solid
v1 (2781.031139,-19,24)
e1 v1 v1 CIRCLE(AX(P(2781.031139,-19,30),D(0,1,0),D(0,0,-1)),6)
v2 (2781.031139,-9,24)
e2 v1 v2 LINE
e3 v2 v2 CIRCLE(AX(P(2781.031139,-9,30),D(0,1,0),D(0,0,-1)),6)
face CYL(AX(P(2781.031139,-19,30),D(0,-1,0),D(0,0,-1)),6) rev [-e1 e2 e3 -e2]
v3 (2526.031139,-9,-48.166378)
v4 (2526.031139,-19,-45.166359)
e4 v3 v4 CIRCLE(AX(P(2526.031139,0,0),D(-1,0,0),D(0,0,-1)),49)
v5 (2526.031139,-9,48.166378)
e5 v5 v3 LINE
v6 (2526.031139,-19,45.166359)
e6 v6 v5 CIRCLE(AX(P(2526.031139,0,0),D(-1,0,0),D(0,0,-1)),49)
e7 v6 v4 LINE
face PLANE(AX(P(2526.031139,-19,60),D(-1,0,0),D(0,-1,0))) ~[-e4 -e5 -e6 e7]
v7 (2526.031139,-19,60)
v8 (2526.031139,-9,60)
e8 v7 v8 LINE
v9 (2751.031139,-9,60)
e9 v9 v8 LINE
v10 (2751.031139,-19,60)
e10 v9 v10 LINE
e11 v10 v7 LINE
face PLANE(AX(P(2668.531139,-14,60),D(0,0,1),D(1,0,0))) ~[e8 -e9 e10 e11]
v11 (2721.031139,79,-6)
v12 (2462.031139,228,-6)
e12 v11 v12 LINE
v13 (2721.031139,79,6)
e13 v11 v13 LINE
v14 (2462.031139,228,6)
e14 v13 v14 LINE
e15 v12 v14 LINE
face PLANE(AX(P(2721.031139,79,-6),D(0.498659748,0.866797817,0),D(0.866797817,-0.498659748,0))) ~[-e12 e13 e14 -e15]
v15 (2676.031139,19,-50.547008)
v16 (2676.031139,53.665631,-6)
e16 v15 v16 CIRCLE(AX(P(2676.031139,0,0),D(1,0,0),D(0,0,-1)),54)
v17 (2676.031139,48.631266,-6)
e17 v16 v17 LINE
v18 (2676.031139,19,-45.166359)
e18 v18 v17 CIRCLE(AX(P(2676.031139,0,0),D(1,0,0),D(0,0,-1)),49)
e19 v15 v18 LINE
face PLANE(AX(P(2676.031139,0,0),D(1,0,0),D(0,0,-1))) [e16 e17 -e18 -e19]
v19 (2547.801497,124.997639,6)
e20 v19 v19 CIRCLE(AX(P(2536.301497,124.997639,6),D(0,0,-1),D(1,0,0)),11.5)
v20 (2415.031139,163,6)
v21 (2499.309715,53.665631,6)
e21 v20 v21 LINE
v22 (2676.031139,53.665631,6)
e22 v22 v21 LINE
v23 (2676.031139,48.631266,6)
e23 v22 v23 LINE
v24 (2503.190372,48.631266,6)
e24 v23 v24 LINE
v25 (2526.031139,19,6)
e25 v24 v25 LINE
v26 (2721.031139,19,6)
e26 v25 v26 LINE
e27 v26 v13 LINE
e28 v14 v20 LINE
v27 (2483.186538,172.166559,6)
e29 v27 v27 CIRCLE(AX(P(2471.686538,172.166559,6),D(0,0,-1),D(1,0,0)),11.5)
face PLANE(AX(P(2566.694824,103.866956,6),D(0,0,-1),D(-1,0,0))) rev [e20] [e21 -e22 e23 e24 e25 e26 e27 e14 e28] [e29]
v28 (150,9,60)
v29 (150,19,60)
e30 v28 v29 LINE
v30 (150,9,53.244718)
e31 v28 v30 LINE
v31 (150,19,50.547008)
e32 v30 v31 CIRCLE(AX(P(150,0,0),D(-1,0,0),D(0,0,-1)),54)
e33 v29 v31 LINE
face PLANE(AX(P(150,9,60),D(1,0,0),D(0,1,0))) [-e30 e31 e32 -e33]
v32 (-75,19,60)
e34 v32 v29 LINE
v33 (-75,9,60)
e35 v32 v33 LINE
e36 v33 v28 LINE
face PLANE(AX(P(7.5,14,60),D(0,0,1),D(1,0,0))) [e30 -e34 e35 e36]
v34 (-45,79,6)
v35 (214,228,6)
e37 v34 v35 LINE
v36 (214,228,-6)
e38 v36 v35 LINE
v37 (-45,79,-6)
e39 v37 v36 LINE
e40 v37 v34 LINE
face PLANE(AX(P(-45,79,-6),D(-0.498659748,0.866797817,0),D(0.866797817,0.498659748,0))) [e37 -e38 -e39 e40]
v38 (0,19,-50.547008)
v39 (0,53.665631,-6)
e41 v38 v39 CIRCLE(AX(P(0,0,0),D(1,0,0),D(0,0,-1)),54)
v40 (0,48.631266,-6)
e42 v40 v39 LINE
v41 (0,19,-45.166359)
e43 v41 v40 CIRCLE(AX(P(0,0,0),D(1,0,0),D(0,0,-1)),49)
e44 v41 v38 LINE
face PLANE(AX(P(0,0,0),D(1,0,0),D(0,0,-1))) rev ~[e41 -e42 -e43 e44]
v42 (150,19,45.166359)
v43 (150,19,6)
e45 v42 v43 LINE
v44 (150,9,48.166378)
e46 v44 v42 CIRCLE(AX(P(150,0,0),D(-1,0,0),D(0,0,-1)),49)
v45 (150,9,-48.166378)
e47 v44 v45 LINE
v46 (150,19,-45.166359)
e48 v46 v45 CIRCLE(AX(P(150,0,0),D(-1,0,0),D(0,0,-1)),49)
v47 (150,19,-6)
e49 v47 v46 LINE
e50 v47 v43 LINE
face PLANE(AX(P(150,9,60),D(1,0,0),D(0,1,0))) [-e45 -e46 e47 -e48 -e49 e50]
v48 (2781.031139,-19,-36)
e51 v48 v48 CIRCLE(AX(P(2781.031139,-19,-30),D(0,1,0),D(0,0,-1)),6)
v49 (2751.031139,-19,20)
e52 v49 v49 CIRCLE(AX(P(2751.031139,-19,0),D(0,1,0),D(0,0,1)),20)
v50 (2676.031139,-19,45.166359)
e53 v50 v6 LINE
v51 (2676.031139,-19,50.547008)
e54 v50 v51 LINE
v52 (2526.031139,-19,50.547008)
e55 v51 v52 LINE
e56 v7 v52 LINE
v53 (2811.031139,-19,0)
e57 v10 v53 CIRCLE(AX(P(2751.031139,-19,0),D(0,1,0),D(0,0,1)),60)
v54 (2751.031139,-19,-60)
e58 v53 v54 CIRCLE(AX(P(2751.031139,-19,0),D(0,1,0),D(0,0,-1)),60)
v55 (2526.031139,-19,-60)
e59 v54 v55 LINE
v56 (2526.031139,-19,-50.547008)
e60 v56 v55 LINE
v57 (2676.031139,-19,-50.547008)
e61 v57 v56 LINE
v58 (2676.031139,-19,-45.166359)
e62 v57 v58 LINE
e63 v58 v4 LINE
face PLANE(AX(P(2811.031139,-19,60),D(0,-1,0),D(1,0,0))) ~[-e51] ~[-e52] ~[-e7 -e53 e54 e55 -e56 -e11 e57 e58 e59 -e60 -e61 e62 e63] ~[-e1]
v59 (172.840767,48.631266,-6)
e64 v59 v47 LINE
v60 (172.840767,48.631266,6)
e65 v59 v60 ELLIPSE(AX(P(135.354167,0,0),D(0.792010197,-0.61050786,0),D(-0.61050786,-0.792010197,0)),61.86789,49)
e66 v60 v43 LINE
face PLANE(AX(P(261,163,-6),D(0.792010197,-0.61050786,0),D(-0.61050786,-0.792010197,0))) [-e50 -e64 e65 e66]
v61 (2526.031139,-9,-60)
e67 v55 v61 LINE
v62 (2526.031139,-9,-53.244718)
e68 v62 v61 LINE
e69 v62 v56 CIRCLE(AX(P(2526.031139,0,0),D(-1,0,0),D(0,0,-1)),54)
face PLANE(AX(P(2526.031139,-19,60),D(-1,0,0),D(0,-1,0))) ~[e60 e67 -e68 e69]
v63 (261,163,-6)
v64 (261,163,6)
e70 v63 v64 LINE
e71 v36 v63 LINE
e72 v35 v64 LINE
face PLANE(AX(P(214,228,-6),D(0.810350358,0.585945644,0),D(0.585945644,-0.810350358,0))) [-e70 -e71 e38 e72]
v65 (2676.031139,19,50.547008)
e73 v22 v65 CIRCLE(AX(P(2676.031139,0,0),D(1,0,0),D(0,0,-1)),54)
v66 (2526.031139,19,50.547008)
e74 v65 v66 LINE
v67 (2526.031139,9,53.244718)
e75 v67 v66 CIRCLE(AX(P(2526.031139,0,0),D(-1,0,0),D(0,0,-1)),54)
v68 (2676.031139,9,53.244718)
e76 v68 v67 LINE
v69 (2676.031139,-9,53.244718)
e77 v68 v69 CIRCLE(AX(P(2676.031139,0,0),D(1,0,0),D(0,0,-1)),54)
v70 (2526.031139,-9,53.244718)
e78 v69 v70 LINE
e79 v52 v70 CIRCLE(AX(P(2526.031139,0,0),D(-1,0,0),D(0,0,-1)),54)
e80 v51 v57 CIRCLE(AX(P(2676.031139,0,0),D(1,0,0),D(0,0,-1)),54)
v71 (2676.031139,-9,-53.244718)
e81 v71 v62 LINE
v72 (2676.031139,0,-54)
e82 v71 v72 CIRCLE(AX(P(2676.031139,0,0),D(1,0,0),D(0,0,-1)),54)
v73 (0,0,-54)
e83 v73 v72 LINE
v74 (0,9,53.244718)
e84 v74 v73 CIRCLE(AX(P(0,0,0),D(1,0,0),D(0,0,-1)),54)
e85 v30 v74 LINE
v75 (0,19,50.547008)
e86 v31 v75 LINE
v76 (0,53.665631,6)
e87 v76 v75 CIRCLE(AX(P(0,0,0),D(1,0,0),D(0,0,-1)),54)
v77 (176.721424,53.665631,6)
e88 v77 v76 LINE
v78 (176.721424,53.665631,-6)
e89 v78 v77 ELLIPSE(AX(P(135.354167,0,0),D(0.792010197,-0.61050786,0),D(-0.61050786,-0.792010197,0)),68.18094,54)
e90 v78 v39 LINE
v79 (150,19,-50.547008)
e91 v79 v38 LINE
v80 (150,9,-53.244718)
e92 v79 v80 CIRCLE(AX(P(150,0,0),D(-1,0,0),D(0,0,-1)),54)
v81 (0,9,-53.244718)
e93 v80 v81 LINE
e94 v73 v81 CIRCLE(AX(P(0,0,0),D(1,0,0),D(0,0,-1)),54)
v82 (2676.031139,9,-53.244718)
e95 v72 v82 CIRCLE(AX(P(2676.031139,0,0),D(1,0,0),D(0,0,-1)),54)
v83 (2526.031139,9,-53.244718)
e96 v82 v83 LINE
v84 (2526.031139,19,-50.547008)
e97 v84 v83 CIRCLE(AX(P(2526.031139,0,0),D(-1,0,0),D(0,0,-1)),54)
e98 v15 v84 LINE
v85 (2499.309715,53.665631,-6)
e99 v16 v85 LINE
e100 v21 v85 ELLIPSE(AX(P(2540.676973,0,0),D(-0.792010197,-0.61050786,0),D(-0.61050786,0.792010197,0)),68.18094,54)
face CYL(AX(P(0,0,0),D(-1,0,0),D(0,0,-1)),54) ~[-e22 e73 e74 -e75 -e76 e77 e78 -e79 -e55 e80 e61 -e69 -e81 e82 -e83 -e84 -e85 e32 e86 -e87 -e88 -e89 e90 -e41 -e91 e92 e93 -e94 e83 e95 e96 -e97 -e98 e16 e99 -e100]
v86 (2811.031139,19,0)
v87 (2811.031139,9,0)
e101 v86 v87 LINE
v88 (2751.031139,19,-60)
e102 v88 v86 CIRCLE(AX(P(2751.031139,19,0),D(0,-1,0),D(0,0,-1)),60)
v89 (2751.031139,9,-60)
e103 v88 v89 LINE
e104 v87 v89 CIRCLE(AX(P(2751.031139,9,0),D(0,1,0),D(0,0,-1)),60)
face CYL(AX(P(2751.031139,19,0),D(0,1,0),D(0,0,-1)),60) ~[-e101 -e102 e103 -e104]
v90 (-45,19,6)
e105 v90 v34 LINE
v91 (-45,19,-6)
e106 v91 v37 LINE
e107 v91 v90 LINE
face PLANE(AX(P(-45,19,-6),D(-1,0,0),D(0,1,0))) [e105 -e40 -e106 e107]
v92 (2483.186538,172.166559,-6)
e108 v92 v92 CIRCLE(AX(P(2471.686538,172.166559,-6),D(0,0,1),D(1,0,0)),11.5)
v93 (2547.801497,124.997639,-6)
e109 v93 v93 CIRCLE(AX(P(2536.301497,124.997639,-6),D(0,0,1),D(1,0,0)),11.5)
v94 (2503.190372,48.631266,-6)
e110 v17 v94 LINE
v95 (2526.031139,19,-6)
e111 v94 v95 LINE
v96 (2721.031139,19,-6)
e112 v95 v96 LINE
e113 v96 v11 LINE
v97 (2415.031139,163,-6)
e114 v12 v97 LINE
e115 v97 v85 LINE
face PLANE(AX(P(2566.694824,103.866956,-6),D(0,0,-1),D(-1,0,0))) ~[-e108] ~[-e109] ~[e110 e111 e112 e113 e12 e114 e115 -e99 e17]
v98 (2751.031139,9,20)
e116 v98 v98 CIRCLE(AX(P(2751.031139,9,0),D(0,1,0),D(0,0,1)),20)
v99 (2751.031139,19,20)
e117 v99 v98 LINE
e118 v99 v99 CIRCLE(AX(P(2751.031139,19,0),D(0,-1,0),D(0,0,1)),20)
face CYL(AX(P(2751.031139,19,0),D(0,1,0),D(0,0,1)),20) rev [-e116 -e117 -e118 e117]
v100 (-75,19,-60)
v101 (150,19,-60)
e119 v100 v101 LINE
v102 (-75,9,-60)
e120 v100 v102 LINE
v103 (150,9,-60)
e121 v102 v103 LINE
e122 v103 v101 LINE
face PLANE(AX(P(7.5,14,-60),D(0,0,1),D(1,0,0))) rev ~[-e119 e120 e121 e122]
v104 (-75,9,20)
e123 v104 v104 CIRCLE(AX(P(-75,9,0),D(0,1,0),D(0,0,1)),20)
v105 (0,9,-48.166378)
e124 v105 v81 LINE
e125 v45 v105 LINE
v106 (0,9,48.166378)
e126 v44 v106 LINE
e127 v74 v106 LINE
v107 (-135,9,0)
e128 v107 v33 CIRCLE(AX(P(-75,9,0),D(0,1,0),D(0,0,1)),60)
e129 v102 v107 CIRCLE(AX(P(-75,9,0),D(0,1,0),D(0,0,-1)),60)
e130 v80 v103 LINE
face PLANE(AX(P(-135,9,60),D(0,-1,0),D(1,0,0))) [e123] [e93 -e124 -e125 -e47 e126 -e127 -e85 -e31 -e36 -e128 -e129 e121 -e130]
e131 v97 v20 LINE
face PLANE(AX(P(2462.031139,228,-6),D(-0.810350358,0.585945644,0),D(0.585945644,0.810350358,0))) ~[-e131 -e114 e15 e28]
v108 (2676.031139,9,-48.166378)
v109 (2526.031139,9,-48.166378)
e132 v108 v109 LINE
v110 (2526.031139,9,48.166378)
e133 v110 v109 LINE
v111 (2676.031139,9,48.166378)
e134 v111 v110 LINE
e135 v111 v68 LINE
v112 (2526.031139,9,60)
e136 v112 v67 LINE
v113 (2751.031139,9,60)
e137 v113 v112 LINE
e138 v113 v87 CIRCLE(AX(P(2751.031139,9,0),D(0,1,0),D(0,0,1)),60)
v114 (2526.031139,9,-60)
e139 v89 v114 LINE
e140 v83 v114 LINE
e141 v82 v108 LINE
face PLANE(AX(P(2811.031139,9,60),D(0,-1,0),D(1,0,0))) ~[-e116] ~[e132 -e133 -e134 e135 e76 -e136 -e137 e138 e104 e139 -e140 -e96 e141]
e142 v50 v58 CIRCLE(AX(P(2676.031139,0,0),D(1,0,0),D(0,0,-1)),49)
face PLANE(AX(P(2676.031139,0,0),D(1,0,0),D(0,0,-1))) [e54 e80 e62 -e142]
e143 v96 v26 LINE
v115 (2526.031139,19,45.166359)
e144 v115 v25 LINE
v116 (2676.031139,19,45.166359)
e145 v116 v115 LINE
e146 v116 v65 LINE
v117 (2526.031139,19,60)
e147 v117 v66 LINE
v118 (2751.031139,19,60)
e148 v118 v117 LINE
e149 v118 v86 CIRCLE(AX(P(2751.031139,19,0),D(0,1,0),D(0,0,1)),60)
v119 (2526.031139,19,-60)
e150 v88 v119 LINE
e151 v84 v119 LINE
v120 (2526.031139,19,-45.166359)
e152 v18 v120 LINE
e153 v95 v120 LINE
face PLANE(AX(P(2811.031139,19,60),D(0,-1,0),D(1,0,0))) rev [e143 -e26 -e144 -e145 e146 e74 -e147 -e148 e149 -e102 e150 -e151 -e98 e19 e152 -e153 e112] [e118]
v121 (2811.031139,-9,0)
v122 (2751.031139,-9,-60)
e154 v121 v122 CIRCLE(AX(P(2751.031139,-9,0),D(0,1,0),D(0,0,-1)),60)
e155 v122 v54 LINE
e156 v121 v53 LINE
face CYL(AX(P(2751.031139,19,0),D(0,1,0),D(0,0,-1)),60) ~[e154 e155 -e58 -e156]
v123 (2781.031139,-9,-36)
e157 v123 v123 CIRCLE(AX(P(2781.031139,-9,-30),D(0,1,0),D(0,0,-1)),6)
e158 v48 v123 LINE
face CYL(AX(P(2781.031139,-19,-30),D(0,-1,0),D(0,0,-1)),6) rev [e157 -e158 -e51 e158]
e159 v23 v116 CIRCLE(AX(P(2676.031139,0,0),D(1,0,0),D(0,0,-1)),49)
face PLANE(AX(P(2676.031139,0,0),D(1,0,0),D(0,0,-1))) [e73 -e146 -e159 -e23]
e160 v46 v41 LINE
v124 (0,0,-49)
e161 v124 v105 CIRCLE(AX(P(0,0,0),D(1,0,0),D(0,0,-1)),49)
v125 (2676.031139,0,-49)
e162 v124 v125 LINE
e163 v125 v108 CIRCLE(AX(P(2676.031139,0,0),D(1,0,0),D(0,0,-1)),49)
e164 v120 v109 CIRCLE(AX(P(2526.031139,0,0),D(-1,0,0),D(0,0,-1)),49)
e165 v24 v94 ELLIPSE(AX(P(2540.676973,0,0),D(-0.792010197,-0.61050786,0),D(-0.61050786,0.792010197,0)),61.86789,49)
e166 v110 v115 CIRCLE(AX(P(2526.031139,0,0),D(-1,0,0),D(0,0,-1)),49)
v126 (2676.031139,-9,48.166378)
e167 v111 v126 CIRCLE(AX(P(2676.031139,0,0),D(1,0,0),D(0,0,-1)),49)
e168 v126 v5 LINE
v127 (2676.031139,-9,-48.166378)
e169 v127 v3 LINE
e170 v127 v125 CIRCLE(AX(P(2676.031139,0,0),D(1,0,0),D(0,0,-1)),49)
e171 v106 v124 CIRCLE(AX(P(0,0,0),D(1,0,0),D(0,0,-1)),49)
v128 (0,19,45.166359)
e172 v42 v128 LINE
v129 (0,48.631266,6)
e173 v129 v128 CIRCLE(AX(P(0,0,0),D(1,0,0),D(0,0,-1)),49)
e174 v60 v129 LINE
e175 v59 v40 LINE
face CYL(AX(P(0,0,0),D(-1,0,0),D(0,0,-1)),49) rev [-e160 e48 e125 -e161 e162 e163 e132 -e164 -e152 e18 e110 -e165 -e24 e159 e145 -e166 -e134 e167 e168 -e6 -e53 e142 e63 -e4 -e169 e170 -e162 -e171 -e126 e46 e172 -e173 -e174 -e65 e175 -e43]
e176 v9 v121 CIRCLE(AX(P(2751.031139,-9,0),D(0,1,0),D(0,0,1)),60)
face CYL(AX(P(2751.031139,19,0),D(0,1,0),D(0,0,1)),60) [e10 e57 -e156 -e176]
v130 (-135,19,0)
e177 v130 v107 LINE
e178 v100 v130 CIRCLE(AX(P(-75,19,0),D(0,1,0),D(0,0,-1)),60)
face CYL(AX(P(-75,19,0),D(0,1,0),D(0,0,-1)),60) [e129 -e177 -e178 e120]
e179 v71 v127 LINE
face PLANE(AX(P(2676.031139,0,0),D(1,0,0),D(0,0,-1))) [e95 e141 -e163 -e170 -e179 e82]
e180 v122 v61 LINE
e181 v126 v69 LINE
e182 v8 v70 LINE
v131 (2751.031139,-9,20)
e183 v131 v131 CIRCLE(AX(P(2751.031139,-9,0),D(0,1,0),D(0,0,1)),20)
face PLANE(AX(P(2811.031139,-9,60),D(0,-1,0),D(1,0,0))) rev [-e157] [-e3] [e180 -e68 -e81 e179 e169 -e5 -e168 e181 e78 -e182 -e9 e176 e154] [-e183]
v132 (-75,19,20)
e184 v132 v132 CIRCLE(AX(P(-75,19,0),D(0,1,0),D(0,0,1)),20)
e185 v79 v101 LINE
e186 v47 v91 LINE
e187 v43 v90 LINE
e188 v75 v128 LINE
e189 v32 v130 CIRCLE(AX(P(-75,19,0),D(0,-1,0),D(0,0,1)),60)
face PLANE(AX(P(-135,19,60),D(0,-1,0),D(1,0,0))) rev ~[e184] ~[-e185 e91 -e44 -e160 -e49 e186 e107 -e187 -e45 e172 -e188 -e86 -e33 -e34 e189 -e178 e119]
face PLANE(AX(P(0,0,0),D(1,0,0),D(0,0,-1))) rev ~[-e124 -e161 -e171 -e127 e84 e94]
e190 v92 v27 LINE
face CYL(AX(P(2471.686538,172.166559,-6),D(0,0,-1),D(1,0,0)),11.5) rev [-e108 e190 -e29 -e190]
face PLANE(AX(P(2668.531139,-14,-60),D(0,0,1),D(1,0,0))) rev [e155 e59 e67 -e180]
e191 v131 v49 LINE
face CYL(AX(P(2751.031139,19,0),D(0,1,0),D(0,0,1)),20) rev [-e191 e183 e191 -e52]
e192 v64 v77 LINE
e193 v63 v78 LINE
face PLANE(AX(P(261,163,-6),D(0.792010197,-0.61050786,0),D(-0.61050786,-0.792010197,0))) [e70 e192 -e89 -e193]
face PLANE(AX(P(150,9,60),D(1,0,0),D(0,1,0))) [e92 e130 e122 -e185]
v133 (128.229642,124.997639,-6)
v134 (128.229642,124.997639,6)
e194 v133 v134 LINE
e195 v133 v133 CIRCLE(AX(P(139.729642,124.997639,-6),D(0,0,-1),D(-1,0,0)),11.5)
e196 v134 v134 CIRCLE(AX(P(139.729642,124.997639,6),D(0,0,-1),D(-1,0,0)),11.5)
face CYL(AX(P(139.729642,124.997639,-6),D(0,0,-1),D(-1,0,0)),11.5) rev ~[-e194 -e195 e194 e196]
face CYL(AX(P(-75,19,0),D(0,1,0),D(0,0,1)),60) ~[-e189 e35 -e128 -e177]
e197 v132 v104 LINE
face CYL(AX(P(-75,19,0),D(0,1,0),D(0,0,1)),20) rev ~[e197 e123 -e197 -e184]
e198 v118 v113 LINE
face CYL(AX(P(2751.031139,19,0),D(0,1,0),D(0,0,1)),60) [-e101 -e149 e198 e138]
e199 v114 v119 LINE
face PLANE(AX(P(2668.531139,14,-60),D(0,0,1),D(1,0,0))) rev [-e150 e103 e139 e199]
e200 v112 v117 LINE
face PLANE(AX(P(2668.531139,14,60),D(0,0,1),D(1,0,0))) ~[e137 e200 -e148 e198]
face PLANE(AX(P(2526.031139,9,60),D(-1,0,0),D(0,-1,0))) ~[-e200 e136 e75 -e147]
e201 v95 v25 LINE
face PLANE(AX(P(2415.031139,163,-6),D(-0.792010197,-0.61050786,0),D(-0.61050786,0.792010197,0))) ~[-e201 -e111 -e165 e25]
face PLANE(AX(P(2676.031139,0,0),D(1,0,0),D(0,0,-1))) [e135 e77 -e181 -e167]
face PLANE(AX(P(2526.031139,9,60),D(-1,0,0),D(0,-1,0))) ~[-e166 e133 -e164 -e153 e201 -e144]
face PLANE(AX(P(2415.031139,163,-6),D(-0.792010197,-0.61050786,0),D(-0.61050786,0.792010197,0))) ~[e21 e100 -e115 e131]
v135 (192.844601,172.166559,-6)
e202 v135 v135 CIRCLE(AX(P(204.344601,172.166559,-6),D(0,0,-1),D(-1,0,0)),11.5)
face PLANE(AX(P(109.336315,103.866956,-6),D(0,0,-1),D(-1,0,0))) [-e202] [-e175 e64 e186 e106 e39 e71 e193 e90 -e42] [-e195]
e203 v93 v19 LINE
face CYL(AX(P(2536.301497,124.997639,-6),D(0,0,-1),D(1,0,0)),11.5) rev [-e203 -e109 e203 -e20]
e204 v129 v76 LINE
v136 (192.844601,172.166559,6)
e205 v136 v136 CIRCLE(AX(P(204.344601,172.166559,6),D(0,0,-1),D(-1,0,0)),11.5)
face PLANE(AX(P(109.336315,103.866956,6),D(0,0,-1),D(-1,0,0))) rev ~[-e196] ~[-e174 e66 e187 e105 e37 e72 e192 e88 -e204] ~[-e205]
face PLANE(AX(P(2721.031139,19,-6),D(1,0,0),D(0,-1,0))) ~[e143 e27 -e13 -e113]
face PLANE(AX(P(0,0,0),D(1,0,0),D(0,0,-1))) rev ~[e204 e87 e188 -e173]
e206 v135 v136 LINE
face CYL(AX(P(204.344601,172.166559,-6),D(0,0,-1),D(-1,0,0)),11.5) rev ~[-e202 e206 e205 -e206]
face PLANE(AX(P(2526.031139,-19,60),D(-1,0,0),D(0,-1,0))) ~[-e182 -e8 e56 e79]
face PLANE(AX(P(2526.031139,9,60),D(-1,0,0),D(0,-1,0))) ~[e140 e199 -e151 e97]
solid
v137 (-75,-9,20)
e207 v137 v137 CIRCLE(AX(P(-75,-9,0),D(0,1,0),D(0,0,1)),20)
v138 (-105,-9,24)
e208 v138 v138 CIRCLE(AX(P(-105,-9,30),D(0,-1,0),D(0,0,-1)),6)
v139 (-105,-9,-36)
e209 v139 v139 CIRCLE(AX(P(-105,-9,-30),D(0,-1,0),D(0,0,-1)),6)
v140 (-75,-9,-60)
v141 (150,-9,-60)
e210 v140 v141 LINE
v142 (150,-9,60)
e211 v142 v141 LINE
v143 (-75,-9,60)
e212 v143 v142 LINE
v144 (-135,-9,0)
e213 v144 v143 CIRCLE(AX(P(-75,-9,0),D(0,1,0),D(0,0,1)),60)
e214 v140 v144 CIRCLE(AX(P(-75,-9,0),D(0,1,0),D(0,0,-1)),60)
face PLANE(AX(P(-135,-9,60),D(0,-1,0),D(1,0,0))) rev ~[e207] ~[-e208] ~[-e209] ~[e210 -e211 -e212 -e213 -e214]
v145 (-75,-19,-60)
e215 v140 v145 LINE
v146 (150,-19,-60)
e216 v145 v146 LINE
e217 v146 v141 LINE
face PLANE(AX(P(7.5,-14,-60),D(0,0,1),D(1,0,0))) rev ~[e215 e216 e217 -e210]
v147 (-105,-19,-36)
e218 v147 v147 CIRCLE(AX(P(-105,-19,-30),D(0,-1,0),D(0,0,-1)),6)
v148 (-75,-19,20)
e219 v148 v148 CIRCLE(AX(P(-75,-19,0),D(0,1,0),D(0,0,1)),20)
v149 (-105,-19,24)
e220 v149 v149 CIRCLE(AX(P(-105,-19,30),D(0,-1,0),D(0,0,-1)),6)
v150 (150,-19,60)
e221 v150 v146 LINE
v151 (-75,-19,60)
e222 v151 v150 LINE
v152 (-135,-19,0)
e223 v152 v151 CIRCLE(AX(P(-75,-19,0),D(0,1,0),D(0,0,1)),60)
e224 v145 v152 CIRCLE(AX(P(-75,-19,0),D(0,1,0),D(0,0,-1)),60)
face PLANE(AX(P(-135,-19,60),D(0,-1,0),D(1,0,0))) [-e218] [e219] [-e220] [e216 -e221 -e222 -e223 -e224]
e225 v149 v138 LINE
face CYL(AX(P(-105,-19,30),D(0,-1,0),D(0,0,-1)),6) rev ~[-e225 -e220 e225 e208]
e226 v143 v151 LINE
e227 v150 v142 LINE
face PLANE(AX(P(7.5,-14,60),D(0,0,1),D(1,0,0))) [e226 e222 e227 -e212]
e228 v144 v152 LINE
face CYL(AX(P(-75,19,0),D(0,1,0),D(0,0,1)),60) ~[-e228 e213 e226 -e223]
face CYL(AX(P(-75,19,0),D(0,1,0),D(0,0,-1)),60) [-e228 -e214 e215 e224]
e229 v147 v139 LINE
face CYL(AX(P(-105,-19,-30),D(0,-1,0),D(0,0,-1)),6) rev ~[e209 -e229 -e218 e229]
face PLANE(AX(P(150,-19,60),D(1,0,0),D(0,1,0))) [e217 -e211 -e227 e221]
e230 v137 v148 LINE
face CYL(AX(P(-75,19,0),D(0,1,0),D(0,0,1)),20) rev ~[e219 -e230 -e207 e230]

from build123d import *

# Parameters (mm, degrees)
SKETCH_1_R          = 54
SKETCH_1_R_2        = 49
EXTRUDE_1_DEPTH     = 2676.031139248
SKETCH_2_W          = 285
SKETCH_2_H          = 10
EXTRUDE_2_DEPTH     = 120
EXTRUDE_2_2_DEPTH   = 120
CUT_EXTRUDE_1_DEPTH = 2678.698948393
CUT_EXTRUDE_2_DEPTH = 2678.698948393
SKETCH_5_R          = 20
CUT_EXTRUDE_3_DEPTH = 2678.698948393
SKETCH_8_R          = 6
CUT_EXTRUDE_4_DEPTH = 10
EXTRUDE_4_DEPTH     = 12
SKETCH_12_R         = 11.5
CUT_EXTRUDE_5_DEPTH = 2687.537298871


with BuildPart() as part:
    # 草图1 → 凸台-拉伸1 (new body)
    with BuildSketch(Plane(origin=(0, 0, 0), x_dir=(0, 0, -1), z_dir=(1, 0, 0))):
        Circle(SKETCH_1_R)
        Circle(SKETCH_1_R_2, mode=Mode.SUBTRACT)
    extrude(amount=EXTRUDE_1_DEPTH)



with BuildPart() as body_2:
    # 草图2 → 凸台-拉伸2 (new body)
    with BuildSketch(Plane.XY.offset(60)):
        with Locations((7.5, 14)):
            Rectangle(SKETCH_2_W, SKETCH_2_H)
    extrude_2 = extrude(amount=-EXTRUDE_2_DEPTH)


with BuildPart() as body_3:
    # 草图2 → Extrude 2 2 (new body)
    with BuildSketch(Plane.XY.offset(60)):
        with Locations((7.5, -14)):
            Rectangle(SKETCH_2_W, SKETCH_2_H)
    extrude_2_2 = extrude(amount=-EXTRUDE_2_2_DEPTH)


with BuildPart() as cut_extrude_1_tool:
    # 草图3 → 切除-拉伸1 (new, through all)
    with BuildSketch(Plane(origin=(0, 19, 0), x_dir=(1, 0, 0), z_dir=(0, 1, 0))):
        with BuildLine():
            Line((-135, 0), (-135, 60))
            Line((-135, 60), (-75, 60))
            ThreePointArc((-75, 60), (-117.426406871, 42.426406871), (-135, 0))
        make_face()
    cut_extrude_1 = extrude(amount=-CUT_EXTRUDE_1_DEPTH)


with BuildPart() as body_2_1:
    add(body_2.part)

    # 切除-拉伸1: cut by cut_extrude_1_tool
    add(cut_extrude_1_tool.part, mode=Mode.SUBTRACT)


with BuildPart() as body_3_1:
    add(body_3.part)

    # 切除-拉伸1: cut by cut_extrude_1_tool
    add(cut_extrude_1_tool.part, mode=Mode.SUBTRACT)


with BuildPart() as cut_extrude_2_tool:
    # 草图4 → 切除-拉伸2 (new, through all)
    with BuildSketch(Plane(origin=(0, 19, 0), x_dir=(1, 0, 0), z_dir=(0, 1, 0))):
        with BuildLine():
            Line((-135, 0), (-135, -60))
            Line((-135, -60), (-75, -60))
            ThreePointArc((-75, -60), (-117.426406871, -42.426406871), (-135, 0))
        make_face()
    cut_extrude_2 = extrude(amount=-CUT_EXTRUDE_2_DEPTH)


with BuildPart() as body_2_2:
    add(body_2_1.part)

    # 切除-拉伸2: cut by cut_extrude_2_tool
    add(cut_extrude_2_tool.part, mode=Mode.SUBTRACT)


with BuildPart() as body_3_2:
    add(body_3_1.part)

    # 切除-拉伸2: cut by cut_extrude_2_tool
    add(cut_extrude_2_tool.part, mode=Mode.SUBTRACT)


with BuildPart() as cut_extrude_3_tool:
    # 草图5 → 切除-拉伸3 (new, through all)
    with BuildSketch(Plane(origin=(0, 19, 0), x_dir=(1, 0, 0), z_dir=(0, 1, 0))):
        with Locations(Location((-75, 0, 0), (0, 0, 270))):
            Circle(SKETCH_5_R)
    cut_extrude_3 = extrude(amount=-CUT_EXTRUDE_3_DEPTH)


with BuildPart() as body_2_3:
    add(body_2_2.part)

    # 切除-拉伸3: cut by cut_extrude_3_tool
    add(cut_extrude_3_tool.part, mode=Mode.SUBTRACT)


with BuildPart() as body_3_3:
    add(body_3_2.part)

    # 切除-拉伸3: cut by cut_extrude_3_tool
    add(cut_extrude_3_tool.part, mode=Mode.SUBTRACT)

    # 草图8 → 切除-拉伸4 (cut)
    with BuildSketch(Plane.XZ.offset(19)):
        with Locations(Location((-105, 30, 0), (0, 0, 270))):
            Circle(SKETCH_8_R)
        with Locations(Location((-105, -30, 0), (0, 0, 270))):
            Circle(SKETCH_8_R)
    cut_extrude_4 = extrude(amount=-CUT_EXTRUDE_4_DEPTH, mode=Mode.SUBTRACT)


with BuildPart() as part_1:
    add(part.part)

    add(body_2_3.part)  # 凸台-拉伸4 merges body 2
    # 草图11 → 凸台-拉伸4 (add)
    with BuildSketch(Plane.XY.offset(-6)):
        Polygon((150, 19), (-45, 19), (-45, 79), (214, 228), (261, 163), align=None)
    extrude_4 = extrude(amount=EXTRUDE_4_DEPTH)

    # 草图12 → 切除-拉伸5 (cut, through all)
    with BuildSketch(Plane(origin=(0, 0, -6), x_dir=(-1, 0, 0), z_dir=(0, 0, -1))):
        with Locations((-204.344601324, 172.166558966)):
            Circle(SKETCH_12_R)
        with Locations((-139.729642057, 124.997638702)):
            Circle(SKETCH_12_R)
    cut_extrude_5 = extrude(amount=-CUT_EXTRUDE_5_DEPTH, mode=Mode.SUBTRACT)

    # 镜向2: 凸台-拉伸2, Extrude 2 2, 切除-拉伸1, 切除-拉伸2, 切除-拉伸3, 切除-拉伸4, 凸台-拉伸4, 切除-拉伸5 across plane
    add(extrude_2.mirror(Plane(origin=(1338.015569624, 0, 0), x_dir=(0, 0, 1), z_dir=(1, 0, 0))))
    add(extrude_2_2.mirror(Plane(origin=(1338.015569624, 0, 0), x_dir=(0, 0, 1), z_dir=(1, 0, 0))))
    add(cut_extrude_1.mirror(Plane(origin=(1338.015569624, 0, 0), x_dir=(0, 0, 1), z_dir=(1, 0, 0))), mode=Mode.SUBTRACT)
    add(cut_extrude_2.mirror(Plane(origin=(1338.015569624, 0, 0), x_dir=(0, 0, 1), z_dir=(1, 0, 0))), mode=Mode.SUBTRACT)
    add(cut_extrude_3.mirror(Plane(origin=(1338.015569624, 0, 0), x_dir=(0, 0, 1), z_dir=(1, 0, 0))), mode=Mode.SUBTRACT)
    add(cut_extrude_4.mirror(Plane(origin=(1338.015569624, 0, 0), x_dir=(0, 0, 1), z_dir=(1, 0, 0))), mode=Mode.SUBTRACT)
    add(extrude_4.mirror(Plane(origin=(1338.015569624, 0, 0), x_dir=(0, 0, 1), z_dir=(1, 0, 0))))
    add(cut_extrude_5.mirror(Plane(origin=(1338.015569624, 0, 0), x_dir=(0, 0, 1), z_dir=(1, 0, 0))), mode=Mode.SUBTRACT)


solid = Compound([body_3_3.part, part_1.part])
